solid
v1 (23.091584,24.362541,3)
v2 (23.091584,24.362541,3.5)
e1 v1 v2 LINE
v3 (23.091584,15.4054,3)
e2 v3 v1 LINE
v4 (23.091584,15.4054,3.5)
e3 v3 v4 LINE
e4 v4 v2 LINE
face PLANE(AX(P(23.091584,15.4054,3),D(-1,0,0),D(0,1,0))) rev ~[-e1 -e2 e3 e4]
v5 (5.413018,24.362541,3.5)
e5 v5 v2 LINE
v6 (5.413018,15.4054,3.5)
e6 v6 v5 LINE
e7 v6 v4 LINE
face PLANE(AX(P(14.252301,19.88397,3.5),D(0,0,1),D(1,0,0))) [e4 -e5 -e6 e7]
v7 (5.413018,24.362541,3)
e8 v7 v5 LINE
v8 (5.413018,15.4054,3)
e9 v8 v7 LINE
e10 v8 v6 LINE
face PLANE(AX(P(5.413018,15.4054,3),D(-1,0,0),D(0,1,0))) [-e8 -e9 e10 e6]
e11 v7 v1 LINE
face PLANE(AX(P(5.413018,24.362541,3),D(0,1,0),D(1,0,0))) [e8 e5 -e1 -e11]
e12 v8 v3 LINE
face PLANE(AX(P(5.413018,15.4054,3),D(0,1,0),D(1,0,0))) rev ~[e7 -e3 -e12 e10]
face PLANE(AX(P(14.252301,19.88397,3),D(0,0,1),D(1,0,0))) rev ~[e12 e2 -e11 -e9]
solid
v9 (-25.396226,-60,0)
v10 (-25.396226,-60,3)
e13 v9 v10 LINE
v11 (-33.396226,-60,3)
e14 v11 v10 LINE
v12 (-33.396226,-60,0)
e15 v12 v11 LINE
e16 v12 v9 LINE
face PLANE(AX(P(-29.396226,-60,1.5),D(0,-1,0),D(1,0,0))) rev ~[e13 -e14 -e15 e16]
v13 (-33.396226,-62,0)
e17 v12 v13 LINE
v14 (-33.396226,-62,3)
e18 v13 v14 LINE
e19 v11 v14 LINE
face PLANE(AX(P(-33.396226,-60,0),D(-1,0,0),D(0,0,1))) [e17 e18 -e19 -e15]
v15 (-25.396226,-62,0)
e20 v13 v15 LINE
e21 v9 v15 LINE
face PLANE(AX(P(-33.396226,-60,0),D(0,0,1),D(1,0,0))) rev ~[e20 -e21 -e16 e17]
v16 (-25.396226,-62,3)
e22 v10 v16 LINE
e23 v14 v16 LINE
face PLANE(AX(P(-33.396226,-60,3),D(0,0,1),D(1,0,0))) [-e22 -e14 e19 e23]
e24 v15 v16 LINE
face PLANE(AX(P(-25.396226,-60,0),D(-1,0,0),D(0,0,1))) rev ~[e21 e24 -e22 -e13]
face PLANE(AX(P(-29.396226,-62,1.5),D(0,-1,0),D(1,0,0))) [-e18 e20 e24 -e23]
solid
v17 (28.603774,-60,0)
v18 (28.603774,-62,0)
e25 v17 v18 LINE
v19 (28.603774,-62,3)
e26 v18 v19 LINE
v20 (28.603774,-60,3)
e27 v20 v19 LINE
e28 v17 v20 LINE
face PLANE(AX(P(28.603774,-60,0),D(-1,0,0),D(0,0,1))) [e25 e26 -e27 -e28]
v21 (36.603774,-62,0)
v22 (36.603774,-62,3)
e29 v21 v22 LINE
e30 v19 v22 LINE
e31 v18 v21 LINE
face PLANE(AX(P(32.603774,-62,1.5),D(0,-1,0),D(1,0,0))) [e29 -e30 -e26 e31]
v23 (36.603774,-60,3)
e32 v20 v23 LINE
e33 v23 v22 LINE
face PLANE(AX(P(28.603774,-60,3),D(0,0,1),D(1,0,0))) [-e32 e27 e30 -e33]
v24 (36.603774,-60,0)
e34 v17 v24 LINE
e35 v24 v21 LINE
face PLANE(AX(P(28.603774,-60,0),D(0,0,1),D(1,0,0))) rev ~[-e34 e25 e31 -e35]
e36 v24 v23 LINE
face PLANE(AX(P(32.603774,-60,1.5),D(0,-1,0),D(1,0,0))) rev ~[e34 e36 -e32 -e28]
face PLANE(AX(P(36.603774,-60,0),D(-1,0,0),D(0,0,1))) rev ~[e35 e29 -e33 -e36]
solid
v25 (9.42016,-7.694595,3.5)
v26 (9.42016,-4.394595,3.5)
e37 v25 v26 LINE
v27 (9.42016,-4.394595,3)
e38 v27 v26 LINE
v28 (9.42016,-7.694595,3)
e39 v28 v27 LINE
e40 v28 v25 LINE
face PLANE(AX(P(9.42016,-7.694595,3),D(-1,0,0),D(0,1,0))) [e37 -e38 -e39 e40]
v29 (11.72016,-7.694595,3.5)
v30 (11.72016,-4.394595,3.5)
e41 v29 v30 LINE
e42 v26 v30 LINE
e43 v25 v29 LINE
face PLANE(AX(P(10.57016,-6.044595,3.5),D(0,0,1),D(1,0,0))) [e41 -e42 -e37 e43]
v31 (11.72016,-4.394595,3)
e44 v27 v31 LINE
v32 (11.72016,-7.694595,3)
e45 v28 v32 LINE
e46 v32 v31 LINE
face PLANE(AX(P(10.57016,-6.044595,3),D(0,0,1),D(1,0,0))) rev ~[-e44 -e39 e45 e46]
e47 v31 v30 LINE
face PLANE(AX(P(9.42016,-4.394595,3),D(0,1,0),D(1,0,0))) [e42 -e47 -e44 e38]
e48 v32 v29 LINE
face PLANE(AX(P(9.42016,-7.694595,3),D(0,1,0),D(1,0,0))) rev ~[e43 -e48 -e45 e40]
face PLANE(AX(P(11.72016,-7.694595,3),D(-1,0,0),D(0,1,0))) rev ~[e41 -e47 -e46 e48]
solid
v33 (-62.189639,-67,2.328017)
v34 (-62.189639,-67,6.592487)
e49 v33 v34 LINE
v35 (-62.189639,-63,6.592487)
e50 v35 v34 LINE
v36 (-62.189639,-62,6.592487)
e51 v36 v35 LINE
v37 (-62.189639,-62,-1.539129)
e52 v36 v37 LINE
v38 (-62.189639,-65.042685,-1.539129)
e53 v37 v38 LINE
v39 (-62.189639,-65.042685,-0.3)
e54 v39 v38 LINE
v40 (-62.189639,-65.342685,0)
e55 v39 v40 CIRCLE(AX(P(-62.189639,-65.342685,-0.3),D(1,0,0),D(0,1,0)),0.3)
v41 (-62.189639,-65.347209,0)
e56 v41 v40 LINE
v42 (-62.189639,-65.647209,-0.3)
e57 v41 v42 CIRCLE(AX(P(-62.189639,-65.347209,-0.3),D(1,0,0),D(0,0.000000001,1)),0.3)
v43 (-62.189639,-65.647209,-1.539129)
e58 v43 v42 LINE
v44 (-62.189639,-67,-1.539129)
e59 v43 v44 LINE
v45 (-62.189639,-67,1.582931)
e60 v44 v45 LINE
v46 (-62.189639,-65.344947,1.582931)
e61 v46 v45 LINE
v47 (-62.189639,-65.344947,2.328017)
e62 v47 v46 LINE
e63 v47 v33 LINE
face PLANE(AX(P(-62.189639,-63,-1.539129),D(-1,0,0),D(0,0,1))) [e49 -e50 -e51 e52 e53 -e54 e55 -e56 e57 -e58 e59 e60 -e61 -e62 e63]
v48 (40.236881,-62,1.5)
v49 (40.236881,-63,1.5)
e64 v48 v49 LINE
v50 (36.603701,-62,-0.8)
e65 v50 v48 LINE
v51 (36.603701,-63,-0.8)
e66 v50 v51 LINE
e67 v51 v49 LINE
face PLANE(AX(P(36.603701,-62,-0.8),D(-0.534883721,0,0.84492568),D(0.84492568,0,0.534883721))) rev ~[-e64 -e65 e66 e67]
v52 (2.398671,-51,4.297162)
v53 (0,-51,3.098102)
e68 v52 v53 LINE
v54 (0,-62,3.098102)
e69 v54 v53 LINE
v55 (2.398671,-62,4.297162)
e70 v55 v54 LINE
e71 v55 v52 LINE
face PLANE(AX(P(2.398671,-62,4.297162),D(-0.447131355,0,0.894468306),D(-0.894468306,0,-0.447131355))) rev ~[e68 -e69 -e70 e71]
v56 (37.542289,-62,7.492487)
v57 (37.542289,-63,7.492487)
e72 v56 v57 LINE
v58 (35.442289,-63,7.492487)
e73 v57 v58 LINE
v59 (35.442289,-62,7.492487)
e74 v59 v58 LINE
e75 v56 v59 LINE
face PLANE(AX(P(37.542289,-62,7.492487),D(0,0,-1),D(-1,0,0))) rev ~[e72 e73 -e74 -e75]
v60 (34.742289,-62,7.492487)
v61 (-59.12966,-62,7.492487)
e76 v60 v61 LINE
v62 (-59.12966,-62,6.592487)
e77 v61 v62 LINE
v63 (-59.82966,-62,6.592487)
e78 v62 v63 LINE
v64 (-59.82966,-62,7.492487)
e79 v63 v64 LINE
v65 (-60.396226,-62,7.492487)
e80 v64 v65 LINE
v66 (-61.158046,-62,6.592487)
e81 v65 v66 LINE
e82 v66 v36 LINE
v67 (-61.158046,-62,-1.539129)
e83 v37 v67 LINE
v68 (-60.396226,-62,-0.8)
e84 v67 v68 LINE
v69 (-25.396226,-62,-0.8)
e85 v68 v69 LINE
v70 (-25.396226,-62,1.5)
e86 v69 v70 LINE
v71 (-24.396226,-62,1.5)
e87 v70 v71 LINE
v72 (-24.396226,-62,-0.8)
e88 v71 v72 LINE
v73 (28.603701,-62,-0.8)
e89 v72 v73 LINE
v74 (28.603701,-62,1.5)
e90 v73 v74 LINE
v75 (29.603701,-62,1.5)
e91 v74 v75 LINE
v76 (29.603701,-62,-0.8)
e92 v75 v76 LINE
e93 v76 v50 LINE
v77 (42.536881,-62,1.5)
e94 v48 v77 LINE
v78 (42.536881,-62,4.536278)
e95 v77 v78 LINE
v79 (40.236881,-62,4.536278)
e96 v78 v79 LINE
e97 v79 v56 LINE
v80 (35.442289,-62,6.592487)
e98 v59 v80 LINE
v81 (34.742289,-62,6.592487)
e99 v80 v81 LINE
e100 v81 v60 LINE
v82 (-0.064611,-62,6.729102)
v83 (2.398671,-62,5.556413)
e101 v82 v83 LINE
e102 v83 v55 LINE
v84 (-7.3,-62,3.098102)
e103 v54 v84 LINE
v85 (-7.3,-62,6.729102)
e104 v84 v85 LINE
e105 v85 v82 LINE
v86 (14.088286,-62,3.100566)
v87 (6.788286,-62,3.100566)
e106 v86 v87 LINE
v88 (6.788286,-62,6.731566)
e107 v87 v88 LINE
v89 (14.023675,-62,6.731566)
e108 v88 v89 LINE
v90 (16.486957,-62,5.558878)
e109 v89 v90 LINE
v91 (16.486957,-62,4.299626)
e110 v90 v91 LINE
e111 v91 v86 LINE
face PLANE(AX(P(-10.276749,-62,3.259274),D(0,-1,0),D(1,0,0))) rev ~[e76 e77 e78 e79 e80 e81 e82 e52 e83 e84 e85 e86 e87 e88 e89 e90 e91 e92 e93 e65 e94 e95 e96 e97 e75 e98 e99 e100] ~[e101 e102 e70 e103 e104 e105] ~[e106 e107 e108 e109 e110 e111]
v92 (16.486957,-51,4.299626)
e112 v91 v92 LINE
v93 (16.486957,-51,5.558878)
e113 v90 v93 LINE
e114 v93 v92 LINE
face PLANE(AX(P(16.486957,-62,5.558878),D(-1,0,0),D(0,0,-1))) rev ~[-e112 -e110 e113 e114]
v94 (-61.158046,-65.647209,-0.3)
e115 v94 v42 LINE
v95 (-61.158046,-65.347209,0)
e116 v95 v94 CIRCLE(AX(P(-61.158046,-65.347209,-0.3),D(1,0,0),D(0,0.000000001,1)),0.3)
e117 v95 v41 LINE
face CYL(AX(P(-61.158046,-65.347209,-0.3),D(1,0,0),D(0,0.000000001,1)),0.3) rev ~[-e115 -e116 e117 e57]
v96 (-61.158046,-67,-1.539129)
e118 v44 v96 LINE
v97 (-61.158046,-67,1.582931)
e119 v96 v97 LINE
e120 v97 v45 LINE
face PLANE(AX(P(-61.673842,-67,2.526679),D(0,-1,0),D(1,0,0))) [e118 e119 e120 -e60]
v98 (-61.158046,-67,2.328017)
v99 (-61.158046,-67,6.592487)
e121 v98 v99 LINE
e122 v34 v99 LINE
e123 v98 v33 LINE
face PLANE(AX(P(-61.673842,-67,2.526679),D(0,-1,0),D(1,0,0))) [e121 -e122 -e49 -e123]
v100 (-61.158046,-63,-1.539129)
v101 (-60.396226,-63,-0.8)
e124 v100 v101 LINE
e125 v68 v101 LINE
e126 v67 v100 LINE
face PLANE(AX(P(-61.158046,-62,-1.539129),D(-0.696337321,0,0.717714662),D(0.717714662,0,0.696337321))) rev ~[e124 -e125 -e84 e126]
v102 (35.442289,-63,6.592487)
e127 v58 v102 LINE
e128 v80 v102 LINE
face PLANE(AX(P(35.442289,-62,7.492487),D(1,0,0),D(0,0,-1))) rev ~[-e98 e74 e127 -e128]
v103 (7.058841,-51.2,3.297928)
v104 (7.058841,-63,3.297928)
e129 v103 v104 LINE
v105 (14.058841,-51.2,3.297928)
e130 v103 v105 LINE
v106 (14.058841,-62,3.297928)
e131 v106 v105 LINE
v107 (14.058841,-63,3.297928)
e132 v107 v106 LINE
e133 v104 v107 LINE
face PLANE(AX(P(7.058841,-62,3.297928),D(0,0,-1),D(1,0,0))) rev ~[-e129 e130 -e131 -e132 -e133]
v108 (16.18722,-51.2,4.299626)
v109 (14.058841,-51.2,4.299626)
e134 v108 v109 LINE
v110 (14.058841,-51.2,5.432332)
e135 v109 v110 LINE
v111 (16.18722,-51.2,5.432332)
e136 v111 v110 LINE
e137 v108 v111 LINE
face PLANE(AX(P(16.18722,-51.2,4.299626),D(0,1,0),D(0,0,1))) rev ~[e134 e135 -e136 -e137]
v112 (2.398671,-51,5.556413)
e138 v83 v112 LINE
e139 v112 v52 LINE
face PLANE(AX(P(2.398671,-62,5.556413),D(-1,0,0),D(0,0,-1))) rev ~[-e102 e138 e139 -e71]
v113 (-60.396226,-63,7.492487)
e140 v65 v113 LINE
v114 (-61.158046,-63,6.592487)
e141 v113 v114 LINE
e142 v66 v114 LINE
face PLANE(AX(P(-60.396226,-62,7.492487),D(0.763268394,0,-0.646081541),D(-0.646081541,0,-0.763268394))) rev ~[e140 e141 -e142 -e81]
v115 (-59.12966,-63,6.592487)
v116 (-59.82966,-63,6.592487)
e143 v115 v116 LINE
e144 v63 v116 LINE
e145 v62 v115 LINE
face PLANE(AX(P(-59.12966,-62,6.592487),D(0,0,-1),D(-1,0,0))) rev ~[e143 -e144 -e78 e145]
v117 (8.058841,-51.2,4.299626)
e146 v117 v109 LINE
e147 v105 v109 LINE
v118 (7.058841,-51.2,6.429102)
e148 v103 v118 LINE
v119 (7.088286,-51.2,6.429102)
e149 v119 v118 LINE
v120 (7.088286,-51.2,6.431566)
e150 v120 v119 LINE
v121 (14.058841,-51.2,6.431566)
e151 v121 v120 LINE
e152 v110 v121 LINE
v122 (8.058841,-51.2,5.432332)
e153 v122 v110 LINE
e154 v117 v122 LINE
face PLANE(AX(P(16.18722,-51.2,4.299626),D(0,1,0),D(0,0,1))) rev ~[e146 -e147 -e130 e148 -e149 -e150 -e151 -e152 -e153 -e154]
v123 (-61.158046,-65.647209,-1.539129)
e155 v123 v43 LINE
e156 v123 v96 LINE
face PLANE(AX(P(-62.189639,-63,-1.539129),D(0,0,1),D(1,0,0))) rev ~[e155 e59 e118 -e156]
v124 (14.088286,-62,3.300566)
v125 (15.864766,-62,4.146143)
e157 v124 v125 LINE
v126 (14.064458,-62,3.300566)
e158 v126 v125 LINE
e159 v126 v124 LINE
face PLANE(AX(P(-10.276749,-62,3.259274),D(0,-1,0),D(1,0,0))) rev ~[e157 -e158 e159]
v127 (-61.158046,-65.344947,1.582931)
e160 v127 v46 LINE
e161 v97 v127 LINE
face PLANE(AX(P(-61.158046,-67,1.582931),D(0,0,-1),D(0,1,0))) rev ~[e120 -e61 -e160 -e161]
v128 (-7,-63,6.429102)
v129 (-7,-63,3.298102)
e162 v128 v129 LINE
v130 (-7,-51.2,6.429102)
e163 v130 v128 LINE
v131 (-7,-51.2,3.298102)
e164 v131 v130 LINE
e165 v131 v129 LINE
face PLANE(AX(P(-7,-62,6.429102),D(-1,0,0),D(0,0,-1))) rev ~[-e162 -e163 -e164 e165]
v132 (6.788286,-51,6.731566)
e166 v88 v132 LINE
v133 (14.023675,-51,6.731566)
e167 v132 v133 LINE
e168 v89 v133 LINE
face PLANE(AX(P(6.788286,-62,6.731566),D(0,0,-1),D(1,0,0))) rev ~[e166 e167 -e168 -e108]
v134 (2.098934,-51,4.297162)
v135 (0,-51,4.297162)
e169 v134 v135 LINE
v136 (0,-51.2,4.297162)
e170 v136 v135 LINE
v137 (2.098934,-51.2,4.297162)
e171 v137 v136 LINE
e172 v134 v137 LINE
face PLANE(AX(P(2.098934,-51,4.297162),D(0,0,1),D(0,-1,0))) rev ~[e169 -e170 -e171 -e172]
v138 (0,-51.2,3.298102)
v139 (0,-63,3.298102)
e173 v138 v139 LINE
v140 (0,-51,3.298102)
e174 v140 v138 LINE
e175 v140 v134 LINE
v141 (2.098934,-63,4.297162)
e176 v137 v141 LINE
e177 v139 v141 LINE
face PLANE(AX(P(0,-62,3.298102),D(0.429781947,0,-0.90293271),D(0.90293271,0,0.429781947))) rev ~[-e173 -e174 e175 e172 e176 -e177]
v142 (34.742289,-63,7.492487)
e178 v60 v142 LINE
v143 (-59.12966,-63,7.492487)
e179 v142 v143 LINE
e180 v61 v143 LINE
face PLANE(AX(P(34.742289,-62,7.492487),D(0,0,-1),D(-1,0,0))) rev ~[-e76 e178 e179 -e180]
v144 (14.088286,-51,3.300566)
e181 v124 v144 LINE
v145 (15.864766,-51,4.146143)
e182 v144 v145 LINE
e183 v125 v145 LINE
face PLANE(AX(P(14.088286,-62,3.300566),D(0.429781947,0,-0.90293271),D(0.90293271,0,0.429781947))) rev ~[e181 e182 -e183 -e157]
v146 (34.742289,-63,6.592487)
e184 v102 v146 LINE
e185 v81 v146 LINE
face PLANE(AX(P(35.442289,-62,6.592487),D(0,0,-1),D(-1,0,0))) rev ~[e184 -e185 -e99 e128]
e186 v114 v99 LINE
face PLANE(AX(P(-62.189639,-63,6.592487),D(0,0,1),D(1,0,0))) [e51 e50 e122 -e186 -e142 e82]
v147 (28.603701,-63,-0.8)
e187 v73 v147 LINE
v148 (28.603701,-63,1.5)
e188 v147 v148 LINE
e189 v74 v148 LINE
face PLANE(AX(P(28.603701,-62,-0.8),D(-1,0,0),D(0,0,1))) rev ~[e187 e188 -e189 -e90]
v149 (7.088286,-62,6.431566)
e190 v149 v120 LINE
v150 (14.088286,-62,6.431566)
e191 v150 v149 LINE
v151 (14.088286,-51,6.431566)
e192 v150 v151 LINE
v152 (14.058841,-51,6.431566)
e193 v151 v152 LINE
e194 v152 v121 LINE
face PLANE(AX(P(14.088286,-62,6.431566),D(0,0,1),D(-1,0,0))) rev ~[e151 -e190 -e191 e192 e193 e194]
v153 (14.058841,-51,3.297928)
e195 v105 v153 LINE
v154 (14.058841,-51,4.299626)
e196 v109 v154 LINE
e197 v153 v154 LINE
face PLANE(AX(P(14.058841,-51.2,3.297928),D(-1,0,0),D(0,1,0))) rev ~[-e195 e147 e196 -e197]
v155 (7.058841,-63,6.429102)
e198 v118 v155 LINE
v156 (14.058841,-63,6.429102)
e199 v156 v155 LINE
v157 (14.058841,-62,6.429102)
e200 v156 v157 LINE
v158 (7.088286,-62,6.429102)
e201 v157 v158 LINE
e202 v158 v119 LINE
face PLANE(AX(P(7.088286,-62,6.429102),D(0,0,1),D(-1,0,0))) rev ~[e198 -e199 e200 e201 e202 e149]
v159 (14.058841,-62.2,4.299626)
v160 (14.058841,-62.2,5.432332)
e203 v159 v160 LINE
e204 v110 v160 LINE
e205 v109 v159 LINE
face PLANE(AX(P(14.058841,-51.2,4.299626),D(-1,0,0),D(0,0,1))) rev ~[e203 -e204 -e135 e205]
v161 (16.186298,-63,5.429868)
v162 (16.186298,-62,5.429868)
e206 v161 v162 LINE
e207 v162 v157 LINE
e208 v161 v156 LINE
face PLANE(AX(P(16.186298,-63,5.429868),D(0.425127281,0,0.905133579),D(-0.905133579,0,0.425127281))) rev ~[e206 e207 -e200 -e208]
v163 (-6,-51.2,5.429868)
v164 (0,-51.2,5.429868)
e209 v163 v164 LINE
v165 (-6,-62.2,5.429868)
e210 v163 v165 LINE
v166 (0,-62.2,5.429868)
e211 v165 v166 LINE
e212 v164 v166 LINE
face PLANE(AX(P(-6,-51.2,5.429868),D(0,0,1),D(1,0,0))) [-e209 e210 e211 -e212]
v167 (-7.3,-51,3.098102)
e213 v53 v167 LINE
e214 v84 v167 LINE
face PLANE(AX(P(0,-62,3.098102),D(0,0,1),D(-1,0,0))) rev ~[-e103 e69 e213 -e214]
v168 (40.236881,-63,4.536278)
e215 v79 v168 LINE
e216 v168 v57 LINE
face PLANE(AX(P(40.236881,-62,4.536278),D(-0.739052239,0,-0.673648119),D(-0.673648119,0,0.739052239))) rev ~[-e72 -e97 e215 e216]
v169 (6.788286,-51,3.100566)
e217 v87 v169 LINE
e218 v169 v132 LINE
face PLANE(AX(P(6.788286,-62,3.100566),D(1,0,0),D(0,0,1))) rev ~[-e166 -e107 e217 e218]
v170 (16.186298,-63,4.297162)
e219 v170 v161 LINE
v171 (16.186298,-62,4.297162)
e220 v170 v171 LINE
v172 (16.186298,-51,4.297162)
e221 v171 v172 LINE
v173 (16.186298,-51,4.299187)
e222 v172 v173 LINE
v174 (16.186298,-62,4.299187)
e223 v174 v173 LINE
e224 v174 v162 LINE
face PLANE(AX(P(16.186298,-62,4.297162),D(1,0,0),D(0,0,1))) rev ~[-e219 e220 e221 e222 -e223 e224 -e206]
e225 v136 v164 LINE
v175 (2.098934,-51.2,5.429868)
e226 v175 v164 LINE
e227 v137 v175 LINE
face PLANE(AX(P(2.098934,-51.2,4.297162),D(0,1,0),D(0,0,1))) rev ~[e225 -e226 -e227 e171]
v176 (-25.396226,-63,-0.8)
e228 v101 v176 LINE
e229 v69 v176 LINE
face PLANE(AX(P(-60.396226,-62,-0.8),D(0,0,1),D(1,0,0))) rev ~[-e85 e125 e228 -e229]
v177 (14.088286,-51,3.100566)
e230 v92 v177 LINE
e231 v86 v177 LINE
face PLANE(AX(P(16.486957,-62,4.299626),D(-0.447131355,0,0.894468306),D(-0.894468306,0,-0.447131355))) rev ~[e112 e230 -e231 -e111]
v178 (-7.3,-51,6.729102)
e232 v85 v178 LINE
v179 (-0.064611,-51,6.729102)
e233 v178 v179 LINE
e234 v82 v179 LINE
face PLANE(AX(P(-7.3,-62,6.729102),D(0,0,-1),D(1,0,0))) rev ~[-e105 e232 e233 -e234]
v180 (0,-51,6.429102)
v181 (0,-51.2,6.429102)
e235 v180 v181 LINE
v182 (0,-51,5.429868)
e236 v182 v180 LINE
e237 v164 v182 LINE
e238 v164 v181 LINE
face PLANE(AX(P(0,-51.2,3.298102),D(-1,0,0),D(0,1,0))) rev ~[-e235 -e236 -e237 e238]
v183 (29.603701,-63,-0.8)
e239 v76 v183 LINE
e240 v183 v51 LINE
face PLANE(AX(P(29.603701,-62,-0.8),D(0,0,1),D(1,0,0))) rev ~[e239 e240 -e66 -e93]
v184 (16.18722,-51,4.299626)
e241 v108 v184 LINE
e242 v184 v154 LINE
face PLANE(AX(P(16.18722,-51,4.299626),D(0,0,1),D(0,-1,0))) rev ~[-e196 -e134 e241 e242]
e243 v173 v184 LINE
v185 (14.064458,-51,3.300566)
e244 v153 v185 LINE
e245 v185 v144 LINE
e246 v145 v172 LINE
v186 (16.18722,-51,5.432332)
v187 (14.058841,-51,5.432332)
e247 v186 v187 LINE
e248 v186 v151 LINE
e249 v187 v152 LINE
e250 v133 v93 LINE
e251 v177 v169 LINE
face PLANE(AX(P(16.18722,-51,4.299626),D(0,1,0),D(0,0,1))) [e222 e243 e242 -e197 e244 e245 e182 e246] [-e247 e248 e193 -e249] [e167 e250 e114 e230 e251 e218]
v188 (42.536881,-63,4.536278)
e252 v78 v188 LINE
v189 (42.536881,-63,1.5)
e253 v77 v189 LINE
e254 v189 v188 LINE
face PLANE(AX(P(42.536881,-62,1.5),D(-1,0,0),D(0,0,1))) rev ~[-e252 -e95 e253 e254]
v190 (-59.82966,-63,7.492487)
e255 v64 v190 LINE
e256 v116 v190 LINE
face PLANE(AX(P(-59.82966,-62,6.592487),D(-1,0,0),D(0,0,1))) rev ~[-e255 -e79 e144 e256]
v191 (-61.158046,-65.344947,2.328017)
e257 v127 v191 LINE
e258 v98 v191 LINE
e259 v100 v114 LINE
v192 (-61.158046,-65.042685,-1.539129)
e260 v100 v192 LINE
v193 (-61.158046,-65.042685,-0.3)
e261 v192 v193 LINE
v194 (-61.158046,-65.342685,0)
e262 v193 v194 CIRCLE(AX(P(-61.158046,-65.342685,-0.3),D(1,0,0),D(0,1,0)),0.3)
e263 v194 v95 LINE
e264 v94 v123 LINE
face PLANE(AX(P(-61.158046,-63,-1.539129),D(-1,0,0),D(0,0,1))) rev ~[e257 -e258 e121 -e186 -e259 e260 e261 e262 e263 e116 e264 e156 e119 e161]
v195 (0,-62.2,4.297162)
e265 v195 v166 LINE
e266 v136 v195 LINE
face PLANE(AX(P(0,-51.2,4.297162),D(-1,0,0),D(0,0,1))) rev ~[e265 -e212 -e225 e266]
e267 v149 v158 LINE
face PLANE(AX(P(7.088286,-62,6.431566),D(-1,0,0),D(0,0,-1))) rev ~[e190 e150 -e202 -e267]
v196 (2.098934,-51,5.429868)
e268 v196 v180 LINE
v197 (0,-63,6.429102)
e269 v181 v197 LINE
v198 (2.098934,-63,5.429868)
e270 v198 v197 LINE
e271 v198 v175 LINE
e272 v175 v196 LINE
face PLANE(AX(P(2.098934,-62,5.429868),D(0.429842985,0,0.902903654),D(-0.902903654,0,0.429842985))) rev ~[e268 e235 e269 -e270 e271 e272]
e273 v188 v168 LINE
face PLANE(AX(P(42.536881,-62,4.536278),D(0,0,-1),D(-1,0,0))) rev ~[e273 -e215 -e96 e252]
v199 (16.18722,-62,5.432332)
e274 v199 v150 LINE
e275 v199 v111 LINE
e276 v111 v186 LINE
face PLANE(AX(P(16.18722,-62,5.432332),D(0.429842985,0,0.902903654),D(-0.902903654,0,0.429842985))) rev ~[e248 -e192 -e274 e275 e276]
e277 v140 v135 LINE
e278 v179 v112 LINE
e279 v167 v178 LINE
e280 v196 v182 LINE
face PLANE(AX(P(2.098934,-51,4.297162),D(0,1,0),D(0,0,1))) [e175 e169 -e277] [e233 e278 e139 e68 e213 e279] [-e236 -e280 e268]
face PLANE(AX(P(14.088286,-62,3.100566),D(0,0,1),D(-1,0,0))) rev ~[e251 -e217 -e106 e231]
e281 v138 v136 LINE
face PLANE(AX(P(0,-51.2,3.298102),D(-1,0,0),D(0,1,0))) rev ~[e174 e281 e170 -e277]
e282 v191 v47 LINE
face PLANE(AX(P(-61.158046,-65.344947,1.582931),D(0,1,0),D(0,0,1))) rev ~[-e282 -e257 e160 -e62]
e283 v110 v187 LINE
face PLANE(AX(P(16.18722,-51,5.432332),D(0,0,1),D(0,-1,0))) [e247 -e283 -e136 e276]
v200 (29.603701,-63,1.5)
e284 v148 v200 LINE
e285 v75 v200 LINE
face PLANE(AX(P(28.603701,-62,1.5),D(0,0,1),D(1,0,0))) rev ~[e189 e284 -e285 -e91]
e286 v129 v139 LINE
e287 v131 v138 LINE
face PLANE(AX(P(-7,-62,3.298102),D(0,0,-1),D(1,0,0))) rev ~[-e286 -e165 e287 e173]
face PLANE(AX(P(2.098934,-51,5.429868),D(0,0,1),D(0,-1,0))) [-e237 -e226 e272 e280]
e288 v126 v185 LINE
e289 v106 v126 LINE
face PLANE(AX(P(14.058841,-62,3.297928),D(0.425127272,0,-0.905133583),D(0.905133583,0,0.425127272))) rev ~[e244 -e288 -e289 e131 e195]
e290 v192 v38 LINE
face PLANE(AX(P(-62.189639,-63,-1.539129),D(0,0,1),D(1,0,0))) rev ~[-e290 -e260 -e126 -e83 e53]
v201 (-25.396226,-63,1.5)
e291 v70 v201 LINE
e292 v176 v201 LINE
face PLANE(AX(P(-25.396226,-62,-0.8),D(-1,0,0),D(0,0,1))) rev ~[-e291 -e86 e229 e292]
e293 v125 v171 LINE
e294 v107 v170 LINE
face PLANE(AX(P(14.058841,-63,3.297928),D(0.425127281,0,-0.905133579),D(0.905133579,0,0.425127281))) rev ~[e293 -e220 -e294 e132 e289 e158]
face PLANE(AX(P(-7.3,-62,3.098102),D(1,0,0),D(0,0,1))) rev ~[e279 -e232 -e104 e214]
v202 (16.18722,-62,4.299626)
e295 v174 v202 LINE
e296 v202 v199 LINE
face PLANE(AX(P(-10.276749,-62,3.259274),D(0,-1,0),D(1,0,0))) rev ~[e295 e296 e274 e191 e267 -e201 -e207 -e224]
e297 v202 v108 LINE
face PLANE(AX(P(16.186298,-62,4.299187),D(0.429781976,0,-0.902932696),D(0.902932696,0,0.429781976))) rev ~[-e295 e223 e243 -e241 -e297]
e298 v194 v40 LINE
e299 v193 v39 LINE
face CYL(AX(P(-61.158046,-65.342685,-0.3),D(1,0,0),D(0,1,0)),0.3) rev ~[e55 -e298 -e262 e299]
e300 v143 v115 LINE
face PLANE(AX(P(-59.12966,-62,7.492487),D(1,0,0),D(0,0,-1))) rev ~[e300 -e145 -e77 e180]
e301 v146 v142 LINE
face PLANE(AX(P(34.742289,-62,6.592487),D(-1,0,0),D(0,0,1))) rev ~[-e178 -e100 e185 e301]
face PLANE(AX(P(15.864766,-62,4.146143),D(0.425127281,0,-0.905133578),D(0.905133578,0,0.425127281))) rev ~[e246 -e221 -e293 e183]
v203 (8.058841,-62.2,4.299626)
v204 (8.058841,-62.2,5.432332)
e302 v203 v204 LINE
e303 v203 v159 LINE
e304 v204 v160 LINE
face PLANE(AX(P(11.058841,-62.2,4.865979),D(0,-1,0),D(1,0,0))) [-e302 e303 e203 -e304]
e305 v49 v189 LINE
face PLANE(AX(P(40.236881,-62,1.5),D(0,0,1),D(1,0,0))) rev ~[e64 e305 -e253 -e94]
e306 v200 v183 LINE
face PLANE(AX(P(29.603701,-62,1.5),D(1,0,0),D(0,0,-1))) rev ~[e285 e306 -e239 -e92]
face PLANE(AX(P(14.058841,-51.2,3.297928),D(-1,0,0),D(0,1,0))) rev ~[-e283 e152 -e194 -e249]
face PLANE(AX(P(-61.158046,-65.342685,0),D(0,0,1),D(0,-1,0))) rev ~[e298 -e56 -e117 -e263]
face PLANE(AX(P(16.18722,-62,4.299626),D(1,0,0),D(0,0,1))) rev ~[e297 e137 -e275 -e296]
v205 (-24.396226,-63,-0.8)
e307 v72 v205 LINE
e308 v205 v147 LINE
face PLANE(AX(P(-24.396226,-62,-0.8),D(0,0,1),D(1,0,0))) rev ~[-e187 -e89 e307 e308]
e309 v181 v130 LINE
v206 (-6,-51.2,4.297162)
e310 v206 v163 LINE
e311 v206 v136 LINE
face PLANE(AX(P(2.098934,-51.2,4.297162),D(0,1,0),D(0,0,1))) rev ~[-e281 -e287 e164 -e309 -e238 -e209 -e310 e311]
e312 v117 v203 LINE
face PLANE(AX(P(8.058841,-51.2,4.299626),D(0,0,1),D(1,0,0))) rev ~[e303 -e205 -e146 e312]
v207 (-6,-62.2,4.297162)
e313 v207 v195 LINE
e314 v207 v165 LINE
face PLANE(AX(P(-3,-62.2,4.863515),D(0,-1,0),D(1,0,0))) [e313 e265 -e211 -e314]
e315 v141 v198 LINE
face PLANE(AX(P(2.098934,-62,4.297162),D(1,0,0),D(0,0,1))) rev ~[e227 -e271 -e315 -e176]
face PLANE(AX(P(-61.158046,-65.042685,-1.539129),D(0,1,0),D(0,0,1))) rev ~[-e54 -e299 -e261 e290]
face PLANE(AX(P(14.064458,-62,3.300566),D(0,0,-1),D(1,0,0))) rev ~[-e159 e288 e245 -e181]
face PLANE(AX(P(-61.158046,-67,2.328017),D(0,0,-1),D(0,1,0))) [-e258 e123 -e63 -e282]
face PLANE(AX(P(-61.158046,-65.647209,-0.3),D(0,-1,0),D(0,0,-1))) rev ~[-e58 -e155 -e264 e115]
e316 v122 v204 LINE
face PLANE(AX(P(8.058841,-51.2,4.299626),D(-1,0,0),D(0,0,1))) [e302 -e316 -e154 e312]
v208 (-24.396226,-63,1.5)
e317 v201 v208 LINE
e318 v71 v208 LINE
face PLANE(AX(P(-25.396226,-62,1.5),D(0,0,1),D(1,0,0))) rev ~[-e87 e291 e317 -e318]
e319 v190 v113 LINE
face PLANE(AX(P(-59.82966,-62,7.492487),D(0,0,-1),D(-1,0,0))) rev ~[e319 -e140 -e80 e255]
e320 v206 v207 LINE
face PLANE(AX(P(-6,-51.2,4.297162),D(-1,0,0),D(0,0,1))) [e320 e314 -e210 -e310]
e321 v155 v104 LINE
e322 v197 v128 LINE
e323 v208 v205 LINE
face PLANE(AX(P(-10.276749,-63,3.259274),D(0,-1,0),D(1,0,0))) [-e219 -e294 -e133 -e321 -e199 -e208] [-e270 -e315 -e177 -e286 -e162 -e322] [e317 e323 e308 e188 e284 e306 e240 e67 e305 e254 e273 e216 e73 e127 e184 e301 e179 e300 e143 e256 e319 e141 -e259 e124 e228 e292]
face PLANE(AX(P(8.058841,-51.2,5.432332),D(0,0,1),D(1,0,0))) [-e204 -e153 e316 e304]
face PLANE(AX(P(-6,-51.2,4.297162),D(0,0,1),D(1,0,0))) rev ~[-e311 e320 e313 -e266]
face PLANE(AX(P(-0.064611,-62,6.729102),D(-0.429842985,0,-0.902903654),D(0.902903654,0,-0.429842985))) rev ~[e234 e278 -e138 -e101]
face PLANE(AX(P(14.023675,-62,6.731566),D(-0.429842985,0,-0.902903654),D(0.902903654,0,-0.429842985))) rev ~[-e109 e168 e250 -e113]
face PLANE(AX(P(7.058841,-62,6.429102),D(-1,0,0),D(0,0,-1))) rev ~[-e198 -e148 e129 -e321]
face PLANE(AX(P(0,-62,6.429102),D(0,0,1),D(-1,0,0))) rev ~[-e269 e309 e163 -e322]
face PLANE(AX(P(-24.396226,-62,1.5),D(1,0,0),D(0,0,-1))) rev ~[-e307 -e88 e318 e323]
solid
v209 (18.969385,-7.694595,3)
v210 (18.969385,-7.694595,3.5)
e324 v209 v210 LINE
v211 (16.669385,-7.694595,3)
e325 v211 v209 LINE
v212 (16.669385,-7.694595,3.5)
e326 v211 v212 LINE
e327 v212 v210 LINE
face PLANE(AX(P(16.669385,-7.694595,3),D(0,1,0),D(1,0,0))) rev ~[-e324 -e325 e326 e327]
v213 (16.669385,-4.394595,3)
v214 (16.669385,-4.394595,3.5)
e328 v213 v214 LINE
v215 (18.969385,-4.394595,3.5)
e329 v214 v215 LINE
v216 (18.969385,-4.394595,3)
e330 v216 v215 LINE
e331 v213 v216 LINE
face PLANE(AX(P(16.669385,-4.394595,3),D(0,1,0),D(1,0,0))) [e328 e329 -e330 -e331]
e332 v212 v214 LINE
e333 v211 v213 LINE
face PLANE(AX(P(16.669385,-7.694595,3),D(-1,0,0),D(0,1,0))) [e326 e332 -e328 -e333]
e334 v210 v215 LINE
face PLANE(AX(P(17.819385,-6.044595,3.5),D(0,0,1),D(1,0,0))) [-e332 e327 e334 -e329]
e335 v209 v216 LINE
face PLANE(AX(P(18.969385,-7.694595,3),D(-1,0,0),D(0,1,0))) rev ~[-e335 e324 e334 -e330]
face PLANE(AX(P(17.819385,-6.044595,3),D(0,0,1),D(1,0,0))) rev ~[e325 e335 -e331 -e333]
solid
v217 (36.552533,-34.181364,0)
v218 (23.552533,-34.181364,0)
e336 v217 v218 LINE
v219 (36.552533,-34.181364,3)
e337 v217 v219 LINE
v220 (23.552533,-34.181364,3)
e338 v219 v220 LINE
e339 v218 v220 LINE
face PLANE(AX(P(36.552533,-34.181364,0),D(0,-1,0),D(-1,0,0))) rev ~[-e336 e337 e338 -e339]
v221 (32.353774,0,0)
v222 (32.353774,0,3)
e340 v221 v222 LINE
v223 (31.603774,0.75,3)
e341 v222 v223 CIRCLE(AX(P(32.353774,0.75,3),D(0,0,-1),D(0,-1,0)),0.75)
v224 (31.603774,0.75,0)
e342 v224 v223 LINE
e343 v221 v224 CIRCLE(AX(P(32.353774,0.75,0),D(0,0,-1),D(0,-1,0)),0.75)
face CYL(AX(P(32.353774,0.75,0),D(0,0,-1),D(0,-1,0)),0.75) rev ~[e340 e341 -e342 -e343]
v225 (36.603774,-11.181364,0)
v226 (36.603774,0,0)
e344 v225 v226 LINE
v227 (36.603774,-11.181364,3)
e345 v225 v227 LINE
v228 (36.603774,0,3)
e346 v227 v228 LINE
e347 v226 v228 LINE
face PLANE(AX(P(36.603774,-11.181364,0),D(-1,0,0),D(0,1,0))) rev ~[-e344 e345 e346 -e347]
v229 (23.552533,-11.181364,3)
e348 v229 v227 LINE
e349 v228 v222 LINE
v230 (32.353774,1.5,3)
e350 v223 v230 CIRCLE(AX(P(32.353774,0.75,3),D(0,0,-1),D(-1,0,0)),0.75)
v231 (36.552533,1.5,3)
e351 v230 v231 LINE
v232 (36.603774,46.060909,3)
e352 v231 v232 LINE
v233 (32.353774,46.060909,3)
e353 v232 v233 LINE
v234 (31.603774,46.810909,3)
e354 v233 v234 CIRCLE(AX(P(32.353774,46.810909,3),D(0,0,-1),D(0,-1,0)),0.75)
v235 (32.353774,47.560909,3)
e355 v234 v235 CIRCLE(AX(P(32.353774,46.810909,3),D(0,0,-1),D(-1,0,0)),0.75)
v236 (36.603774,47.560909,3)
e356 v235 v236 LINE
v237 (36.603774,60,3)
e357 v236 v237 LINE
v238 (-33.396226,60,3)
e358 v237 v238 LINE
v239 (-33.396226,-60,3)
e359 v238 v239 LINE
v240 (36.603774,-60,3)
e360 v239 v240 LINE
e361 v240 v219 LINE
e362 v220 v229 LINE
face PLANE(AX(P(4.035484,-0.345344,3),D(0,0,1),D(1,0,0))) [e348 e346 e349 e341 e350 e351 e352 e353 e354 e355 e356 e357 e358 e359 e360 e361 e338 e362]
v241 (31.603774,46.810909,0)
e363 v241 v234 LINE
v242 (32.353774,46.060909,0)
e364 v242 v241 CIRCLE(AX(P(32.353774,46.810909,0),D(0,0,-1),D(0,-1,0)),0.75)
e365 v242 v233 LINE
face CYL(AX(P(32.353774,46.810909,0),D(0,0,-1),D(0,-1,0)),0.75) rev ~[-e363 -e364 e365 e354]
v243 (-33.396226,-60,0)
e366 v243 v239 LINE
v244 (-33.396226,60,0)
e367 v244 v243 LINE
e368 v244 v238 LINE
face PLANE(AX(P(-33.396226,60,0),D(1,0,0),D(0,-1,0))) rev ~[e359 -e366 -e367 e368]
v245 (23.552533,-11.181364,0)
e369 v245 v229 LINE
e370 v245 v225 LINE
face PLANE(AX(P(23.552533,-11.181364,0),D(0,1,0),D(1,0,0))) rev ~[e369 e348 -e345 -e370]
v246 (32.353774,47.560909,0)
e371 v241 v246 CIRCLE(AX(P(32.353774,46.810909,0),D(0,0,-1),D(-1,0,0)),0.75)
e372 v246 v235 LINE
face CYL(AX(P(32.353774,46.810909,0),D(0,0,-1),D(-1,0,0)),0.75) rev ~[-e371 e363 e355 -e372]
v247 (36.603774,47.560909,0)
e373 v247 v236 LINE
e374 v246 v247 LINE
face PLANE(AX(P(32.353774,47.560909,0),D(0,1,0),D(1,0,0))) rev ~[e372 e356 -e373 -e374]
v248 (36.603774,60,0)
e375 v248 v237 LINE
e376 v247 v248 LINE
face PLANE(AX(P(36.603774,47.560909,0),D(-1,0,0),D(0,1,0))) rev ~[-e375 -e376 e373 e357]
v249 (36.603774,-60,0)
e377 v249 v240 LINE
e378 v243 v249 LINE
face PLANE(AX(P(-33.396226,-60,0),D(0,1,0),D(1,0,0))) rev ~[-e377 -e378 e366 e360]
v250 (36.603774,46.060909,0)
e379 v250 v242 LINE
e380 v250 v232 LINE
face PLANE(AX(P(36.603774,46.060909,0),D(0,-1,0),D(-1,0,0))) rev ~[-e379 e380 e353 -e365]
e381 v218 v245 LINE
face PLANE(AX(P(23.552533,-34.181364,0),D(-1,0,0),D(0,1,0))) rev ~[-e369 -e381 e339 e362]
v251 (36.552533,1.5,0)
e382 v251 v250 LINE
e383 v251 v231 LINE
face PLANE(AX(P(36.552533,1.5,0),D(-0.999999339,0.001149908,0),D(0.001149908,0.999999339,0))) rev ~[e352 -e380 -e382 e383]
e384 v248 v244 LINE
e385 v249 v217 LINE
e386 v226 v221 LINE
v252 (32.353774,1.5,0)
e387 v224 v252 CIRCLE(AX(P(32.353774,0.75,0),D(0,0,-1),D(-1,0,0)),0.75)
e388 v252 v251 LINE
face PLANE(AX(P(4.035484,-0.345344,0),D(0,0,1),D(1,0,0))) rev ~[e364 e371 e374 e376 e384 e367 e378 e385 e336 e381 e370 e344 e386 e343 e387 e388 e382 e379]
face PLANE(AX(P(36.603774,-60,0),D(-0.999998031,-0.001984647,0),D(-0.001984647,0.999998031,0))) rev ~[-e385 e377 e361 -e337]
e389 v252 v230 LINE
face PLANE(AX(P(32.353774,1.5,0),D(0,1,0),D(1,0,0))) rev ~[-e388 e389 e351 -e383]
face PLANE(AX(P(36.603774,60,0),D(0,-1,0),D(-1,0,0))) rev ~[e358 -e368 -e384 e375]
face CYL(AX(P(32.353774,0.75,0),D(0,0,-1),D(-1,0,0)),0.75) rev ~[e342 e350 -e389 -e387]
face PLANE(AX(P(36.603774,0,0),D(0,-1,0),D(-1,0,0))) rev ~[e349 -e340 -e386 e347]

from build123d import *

# Parameters (mm, degrees)
F1_DEPTH  = 3
F2_W      = 8
F2_H      = 3
F3_DEPTH  = 2
F5_DEPTH  = 1
F7_DEPTH  = 25
F9_DEPTH  = 11
F11_DEPTH = 11
F12_W     = 7
F12_H     = 0.2
F13_DEPTH = 3.2
F14_W     = 0.2
F14_H     = 1.1327061802
F15_DEPTH = 5.5
F16_W     = 7
F16_H     = 0.2
F17_DEPTH = 3.19
F18_W     = 0.2
F18_H     = 1.1327061802
F19_DEPTH = 7.4
F20_W     = 6
F20_H     = 1.1327061802
F21_DEPTH = 11
F22_W     = 6
F22_H     = 1.1327061802
F23_DEPTH = 11
F24_W     = 1.0315924883
F24_H     = 8.1316158699
F25_DEPTH = 4
F26_W     = 1.6550530118
F26_H     = 0.745086465
F27_DEPTH = 25
F28_W     = 17.6785664628
F28_H     = 8.9571411045
F29_DEPTH = 0.5
F28_W_2   = 2.3
F28_H_2   = 3.3


with BuildPart() as f1:
    # F0 (on Top) → F1 (new body)
    with BuildSketch(Plane.XY):
        with BuildLine():
            Line((36.6037742128, 60), (-33.3962257872, 60))
            Line((-33.3962257872, 60), (-33.3962257872, -60))
            Line((-33.3962257872, -60), (36.6037742128, -60))
            Line((36.6037742128, -60), (36.5525332391, -34.1813638806))
            Line((36.5525332391, -34.1813638806), (23.5525332391, -34.1813638806))
            Line((23.5525332391, -34.1813638806), (23.5525332391, -11.1813638806))
            Line((23.5525332391, -11.1813638806), (36.5525332391, -11.1813638806))
            Line((36.5525332391, -11.1813638806), (36.6037742128, -11.1813638806))
            Line((36.6037742128, -11.1813638806), (36.6037742128, 0))
            Line((36.6037742128, 0), (32.3537742128, 0))
            ThreePointArc((32.3537742128, 0), (31.8234441269, 0.2196699141), (31.6037742128, 0.75))
            ThreePointArc((31.6037742128, 0.75), (31.8234441269, 1.2803300859), (32.3537742128, 1.5))
            Line((32.3537742128, 1.5), (36.5525332391, 1.5))
            Line((36.5525332391, 1.5), (36.6037742128, 46.0609085858))
            Line((36.6037742128, 46.0609085858), (32.3537742128, 46.0609085858))
            ThreePointArc((32.3537742128, 46.0609085858), (31.8234441269, 46.2805784999), (31.6037742128, 46.8109085858))
            ThreePointArc((31.6037742128, 46.8109085858), (31.8234441269, 47.3412386717), (32.3537742128, 47.5609085858))
            Line((32.3537742128, 47.5609085858), (36.6037742128, 47.5609085858))
            Line((36.6037742128, 47.5609085858), (36.6037742128, 60))
        make_face()
    extrude(amount=F1_DEPTH)


with BuildPart() as f3:
    # F2 (on face) → F3 (new body)
    with BuildSketch(Plane.XZ.offset(60)):
        with Locations((32.6037742128, 1.5)):
            Rectangle(F2_W, F2_H)
    extrude(amount=F3_DEPTH)


with BuildPart() as f3b:
    # F2 (on face) → F3, piece 2 (new body)
    with BuildSketch(Plane.XZ.offset(60)):
        with Locations((-29.3962257872, 1.5)):
            Rectangle(F2_W, F2_H)
    extrude(amount=F3_DEPTH)


with BuildPart() as f5:
    # F4 (on face) → F5 (new body)
    with BuildSketch(Plane.XZ.offset(62)):
        Polygon((-25.3962257872, -0.8), (-25.3962257872, 0), (-25.3962257872, 1.5), (-24.3962257872, 1.5), (-24.3962257872, -0.8), (28.6037009209, -0.8), (28.6037009209, 0), (28.6037009209, 0.1021988282), (28.6037009209, 1.5), (29.6037009209, 1.5), (29.6037009209, 0), (29.6037009209, -0.8), (36.6037009209, -0.8), (40.2368813459, 1.5), (42.5368813459, 1.5), (42.5368813459, 4.5362776145), (40.2368813459, 4.5362776145), (37.5422888717, 7.4924865717), (35.4422888717, 7.4924865717), (35.4422888717, 6.5924865717), (34.7422888717, 6.5924865717), (34.7422888717, 7.4924865717), (-59.12965976, 7.4924865717), (-59.12965976, 6.5924865717), (-59.82965976, 6.5924865717), (-59.82965976, 7.4924865717), (-60.3962257872, 7.4924865717), (-61.1580461264, 6.5924865717), (-62.1896386147, 6.5924865717), (-62.1896386147, -1.5391292982), (-61.1580461264, -1.5391292982), (-60.3962257872, -0.8), align=None)
    extrude(amount=F5_DEPTH)

    # F6 (on face) → F7 (cut)
    with BuildSketch(Plane.XZ.offset(63)):
        Polygon((16.1862980872, 4.2971617077), (16.1862980872, 5.4298678879), (14.0588406771, 6.4291018192), (7.0588406771, 6.4291018192), (7.0588406771, 3.2979277764), (14.0588406771, 3.2979277764), align=None)
        Polygon((2.0989337936, 5.4298678879), (0, 6.4291018192), (-7, 6.4291018192), (-7, 3.2981018192), (0, 3.2981018192), (2.0989337936, 4.2971617077), align=None)
    extrude(amount=-F7_DEPTH, mode=Mode.SUBTRACT)

    # F8 (on face) → F9 (join)
    with BuildSketch(Plane(origin=(0, -62, 0), x_dir=(-1, 0, 0), z_dir=(0, 1, 0))):
        Polygon((7.3, 6.7291018192), (3.3125772607, 6.7291018192), (0.064611199, 6.7291018192), (-2.3986711167, 5.5564134382), (-2.3986711167, 4.2971617077), (0, 3.0981018192), (7.3, 3.0981018192), align=None)
        Polygon((-2.0989337936, 5.4298678879), (0, 6.4291018192), (7, 6.4291018192), (7, 3.2981018192), (0, 3.2981018192), (-2.0989337936, 4.2971617077), align=None, mode=Mode.SUBTRACT)
    extrude(amount=F9_DEPTH)

    # F10 (on face) → F11 (join)
    with BuildSketch(Plane(origin=(0, -62, 0), x_dir=(-1, 0, 0), z_dir=(0, 1, 0))):
        Polygon((-6.7882863318, 6.731566316), (-10.7757090712, 6.731566316), (-14.0236751328, 6.731566316), (-16.4869574485, 5.558877935), (-16.4869574485, 4.2996262045), (-14.0882863318, 3.100566316), (-6.7882863318, 3.100566316), align=None)
        Polygon((-16.1872201254, 5.4323323847), (-14.0882863318, 6.431566316), (-7.0882863318, 6.431566316), (-7.0882863318, 6.4291018192), (-7.0588406771, 6.4291018192), (-7.0588406771, 3.2979277764), (-14.0588406771, 3.2979277764), (-14.0644583614, 3.300566316), (-14.0882863318, 3.300566316), (-15.8647655234, 4.1461428218), (-16.1862980872, 4.2971617077), (-16.1862980872, 4.2991873286), (-16.1872201254, 4.2996262045), align=None, mode=Mode.SUBTRACT)
    extrude(amount=F11_DEPTH)

    # F12 (on face) → F13 (join)
    with BuildSketch(Plane.XY.offset(3.2981018192)):
        with Locations((-3.5, -51.1)):
            Rectangle(F12_W, F12_H)
    extrude(amount=F13_DEPTH)

    # F14 (on face) → F15 (join)
    with BuildSketch(Plane(origin=(2.0989337936, 0, 0), x_dir=(0, -1, 0), z_dir=(-1, 0, 0))):
        with Locations((51.1, 4.8635147978)):
            Rectangle(F14_W, F14_H)
    extrude(amount=F15_DEPTH)

    # F16 (on face) → F17 (join)
    with BuildSketch(Plane.XY.offset(3.2979277764)):
        with Locations((10.5588406771, -51.1)):
            Rectangle(F16_W, F16_H)
    extrude(amount=F17_DEPTH)

    # F18 (on face) → F19 (join)
    with BuildSketch(Plane(origin=(16.1872201254, 0, 0), x_dir=(0, -1, 0), z_dir=(-1, 0, 0))):
        with Locations((51.1, 4.8659792946)):
            Rectangle(F18_W, F18_H)
    extrude(amount=F19_DEPTH)

    # F20 (on face) → F21 (join)
    with BuildSketch(Plane.XZ.offset(51.2)):
        with Locations((-3, 4.8635147978)):
            Rectangle(F20_W, F20_H)
    extrude(amount=F21_DEPTH)

    # F22 (on face) → F23 (join)
    with BuildSketch(Plane.XZ.offset(51.2)):
        with Locations((11.0588406771, 4.8659792946)):
            Rectangle(F22_W, F22_H)
    extrude(amount=F23_DEPTH)

    # F24 (on face) → F25 (join)
    with BuildSketch(Plane.XZ.offset(63)):
        with Locations((-61.6738423705, 2.5266786368)):
            Rectangle(F24_W, F24_H)
    extrude(amount=F25_DEPTH)

    # F26 (on face) → F27 (cut)
    with BuildSketch(Plane.YZ.offset(-61.1580461264)):
        with BuildLine():
            Line((-65.6472089325, -0.3), (-65.6472089325, -1.5391292982))
            Line((-65.6472089325, -1.5391292982), (-65.0426850438, -1.5391292982))
            Line((-65.0426850438, -1.5391292982), (-65.0426850438, -0.3))
            ThreePointArc((-65.0426850438, -0.3), (-65.1305530095, -0.0878679656), (-65.3426850438, 0))
            Line((-65.3426850438, 0), (-65.3472089325, 0))
            ThreePointArc((-65.3472089325, 0), (-65.5593409669, -0.0878679656), (-65.6472089325, -0.3))
        make_face()
        with Locations((-66.1724734941, 1.9554740284)):
            Rectangle(F26_W, F26_H)
    extrude(amount=-F27_DEPTH, mode=Mode.SUBTRACT)


with BuildPart() as f29:
    # F28 (on face) → F29 (new body)
    with BuildSketch(Plane.XY.offset(3)):
        with Locations((14.2523010727, 19.8839701561)):
            Rectangle(F28_W, F28_H)
    extrude(amount=F29_DEPTH)


with BuildPart() as f29b:
    # F28 (on face) → F29, piece 2 (new body)
    with BuildSketch(Plane.XY.offset(3)):
        with Locations((10.5701600818, -6.0445953979)):
            Rectangle(F28_W_2, F28_H_2)
    extrude(amount=F29_DEPTH)


with BuildPart() as f29c:
    # F28 (on face) → F29, piece 3 (new body)
    with BuildSketch(Plane.XY.offset(3)):
        with Locations((17.8193851352, -6.0445953979)):
            Rectangle(F28_W_2, F28_H_2)
    extrude(amount=F29_DEPTH)


solid = Compound([f1.part, f3.part, f3b.part, f5.part, f29.part, f29b.part, f29c.part])
